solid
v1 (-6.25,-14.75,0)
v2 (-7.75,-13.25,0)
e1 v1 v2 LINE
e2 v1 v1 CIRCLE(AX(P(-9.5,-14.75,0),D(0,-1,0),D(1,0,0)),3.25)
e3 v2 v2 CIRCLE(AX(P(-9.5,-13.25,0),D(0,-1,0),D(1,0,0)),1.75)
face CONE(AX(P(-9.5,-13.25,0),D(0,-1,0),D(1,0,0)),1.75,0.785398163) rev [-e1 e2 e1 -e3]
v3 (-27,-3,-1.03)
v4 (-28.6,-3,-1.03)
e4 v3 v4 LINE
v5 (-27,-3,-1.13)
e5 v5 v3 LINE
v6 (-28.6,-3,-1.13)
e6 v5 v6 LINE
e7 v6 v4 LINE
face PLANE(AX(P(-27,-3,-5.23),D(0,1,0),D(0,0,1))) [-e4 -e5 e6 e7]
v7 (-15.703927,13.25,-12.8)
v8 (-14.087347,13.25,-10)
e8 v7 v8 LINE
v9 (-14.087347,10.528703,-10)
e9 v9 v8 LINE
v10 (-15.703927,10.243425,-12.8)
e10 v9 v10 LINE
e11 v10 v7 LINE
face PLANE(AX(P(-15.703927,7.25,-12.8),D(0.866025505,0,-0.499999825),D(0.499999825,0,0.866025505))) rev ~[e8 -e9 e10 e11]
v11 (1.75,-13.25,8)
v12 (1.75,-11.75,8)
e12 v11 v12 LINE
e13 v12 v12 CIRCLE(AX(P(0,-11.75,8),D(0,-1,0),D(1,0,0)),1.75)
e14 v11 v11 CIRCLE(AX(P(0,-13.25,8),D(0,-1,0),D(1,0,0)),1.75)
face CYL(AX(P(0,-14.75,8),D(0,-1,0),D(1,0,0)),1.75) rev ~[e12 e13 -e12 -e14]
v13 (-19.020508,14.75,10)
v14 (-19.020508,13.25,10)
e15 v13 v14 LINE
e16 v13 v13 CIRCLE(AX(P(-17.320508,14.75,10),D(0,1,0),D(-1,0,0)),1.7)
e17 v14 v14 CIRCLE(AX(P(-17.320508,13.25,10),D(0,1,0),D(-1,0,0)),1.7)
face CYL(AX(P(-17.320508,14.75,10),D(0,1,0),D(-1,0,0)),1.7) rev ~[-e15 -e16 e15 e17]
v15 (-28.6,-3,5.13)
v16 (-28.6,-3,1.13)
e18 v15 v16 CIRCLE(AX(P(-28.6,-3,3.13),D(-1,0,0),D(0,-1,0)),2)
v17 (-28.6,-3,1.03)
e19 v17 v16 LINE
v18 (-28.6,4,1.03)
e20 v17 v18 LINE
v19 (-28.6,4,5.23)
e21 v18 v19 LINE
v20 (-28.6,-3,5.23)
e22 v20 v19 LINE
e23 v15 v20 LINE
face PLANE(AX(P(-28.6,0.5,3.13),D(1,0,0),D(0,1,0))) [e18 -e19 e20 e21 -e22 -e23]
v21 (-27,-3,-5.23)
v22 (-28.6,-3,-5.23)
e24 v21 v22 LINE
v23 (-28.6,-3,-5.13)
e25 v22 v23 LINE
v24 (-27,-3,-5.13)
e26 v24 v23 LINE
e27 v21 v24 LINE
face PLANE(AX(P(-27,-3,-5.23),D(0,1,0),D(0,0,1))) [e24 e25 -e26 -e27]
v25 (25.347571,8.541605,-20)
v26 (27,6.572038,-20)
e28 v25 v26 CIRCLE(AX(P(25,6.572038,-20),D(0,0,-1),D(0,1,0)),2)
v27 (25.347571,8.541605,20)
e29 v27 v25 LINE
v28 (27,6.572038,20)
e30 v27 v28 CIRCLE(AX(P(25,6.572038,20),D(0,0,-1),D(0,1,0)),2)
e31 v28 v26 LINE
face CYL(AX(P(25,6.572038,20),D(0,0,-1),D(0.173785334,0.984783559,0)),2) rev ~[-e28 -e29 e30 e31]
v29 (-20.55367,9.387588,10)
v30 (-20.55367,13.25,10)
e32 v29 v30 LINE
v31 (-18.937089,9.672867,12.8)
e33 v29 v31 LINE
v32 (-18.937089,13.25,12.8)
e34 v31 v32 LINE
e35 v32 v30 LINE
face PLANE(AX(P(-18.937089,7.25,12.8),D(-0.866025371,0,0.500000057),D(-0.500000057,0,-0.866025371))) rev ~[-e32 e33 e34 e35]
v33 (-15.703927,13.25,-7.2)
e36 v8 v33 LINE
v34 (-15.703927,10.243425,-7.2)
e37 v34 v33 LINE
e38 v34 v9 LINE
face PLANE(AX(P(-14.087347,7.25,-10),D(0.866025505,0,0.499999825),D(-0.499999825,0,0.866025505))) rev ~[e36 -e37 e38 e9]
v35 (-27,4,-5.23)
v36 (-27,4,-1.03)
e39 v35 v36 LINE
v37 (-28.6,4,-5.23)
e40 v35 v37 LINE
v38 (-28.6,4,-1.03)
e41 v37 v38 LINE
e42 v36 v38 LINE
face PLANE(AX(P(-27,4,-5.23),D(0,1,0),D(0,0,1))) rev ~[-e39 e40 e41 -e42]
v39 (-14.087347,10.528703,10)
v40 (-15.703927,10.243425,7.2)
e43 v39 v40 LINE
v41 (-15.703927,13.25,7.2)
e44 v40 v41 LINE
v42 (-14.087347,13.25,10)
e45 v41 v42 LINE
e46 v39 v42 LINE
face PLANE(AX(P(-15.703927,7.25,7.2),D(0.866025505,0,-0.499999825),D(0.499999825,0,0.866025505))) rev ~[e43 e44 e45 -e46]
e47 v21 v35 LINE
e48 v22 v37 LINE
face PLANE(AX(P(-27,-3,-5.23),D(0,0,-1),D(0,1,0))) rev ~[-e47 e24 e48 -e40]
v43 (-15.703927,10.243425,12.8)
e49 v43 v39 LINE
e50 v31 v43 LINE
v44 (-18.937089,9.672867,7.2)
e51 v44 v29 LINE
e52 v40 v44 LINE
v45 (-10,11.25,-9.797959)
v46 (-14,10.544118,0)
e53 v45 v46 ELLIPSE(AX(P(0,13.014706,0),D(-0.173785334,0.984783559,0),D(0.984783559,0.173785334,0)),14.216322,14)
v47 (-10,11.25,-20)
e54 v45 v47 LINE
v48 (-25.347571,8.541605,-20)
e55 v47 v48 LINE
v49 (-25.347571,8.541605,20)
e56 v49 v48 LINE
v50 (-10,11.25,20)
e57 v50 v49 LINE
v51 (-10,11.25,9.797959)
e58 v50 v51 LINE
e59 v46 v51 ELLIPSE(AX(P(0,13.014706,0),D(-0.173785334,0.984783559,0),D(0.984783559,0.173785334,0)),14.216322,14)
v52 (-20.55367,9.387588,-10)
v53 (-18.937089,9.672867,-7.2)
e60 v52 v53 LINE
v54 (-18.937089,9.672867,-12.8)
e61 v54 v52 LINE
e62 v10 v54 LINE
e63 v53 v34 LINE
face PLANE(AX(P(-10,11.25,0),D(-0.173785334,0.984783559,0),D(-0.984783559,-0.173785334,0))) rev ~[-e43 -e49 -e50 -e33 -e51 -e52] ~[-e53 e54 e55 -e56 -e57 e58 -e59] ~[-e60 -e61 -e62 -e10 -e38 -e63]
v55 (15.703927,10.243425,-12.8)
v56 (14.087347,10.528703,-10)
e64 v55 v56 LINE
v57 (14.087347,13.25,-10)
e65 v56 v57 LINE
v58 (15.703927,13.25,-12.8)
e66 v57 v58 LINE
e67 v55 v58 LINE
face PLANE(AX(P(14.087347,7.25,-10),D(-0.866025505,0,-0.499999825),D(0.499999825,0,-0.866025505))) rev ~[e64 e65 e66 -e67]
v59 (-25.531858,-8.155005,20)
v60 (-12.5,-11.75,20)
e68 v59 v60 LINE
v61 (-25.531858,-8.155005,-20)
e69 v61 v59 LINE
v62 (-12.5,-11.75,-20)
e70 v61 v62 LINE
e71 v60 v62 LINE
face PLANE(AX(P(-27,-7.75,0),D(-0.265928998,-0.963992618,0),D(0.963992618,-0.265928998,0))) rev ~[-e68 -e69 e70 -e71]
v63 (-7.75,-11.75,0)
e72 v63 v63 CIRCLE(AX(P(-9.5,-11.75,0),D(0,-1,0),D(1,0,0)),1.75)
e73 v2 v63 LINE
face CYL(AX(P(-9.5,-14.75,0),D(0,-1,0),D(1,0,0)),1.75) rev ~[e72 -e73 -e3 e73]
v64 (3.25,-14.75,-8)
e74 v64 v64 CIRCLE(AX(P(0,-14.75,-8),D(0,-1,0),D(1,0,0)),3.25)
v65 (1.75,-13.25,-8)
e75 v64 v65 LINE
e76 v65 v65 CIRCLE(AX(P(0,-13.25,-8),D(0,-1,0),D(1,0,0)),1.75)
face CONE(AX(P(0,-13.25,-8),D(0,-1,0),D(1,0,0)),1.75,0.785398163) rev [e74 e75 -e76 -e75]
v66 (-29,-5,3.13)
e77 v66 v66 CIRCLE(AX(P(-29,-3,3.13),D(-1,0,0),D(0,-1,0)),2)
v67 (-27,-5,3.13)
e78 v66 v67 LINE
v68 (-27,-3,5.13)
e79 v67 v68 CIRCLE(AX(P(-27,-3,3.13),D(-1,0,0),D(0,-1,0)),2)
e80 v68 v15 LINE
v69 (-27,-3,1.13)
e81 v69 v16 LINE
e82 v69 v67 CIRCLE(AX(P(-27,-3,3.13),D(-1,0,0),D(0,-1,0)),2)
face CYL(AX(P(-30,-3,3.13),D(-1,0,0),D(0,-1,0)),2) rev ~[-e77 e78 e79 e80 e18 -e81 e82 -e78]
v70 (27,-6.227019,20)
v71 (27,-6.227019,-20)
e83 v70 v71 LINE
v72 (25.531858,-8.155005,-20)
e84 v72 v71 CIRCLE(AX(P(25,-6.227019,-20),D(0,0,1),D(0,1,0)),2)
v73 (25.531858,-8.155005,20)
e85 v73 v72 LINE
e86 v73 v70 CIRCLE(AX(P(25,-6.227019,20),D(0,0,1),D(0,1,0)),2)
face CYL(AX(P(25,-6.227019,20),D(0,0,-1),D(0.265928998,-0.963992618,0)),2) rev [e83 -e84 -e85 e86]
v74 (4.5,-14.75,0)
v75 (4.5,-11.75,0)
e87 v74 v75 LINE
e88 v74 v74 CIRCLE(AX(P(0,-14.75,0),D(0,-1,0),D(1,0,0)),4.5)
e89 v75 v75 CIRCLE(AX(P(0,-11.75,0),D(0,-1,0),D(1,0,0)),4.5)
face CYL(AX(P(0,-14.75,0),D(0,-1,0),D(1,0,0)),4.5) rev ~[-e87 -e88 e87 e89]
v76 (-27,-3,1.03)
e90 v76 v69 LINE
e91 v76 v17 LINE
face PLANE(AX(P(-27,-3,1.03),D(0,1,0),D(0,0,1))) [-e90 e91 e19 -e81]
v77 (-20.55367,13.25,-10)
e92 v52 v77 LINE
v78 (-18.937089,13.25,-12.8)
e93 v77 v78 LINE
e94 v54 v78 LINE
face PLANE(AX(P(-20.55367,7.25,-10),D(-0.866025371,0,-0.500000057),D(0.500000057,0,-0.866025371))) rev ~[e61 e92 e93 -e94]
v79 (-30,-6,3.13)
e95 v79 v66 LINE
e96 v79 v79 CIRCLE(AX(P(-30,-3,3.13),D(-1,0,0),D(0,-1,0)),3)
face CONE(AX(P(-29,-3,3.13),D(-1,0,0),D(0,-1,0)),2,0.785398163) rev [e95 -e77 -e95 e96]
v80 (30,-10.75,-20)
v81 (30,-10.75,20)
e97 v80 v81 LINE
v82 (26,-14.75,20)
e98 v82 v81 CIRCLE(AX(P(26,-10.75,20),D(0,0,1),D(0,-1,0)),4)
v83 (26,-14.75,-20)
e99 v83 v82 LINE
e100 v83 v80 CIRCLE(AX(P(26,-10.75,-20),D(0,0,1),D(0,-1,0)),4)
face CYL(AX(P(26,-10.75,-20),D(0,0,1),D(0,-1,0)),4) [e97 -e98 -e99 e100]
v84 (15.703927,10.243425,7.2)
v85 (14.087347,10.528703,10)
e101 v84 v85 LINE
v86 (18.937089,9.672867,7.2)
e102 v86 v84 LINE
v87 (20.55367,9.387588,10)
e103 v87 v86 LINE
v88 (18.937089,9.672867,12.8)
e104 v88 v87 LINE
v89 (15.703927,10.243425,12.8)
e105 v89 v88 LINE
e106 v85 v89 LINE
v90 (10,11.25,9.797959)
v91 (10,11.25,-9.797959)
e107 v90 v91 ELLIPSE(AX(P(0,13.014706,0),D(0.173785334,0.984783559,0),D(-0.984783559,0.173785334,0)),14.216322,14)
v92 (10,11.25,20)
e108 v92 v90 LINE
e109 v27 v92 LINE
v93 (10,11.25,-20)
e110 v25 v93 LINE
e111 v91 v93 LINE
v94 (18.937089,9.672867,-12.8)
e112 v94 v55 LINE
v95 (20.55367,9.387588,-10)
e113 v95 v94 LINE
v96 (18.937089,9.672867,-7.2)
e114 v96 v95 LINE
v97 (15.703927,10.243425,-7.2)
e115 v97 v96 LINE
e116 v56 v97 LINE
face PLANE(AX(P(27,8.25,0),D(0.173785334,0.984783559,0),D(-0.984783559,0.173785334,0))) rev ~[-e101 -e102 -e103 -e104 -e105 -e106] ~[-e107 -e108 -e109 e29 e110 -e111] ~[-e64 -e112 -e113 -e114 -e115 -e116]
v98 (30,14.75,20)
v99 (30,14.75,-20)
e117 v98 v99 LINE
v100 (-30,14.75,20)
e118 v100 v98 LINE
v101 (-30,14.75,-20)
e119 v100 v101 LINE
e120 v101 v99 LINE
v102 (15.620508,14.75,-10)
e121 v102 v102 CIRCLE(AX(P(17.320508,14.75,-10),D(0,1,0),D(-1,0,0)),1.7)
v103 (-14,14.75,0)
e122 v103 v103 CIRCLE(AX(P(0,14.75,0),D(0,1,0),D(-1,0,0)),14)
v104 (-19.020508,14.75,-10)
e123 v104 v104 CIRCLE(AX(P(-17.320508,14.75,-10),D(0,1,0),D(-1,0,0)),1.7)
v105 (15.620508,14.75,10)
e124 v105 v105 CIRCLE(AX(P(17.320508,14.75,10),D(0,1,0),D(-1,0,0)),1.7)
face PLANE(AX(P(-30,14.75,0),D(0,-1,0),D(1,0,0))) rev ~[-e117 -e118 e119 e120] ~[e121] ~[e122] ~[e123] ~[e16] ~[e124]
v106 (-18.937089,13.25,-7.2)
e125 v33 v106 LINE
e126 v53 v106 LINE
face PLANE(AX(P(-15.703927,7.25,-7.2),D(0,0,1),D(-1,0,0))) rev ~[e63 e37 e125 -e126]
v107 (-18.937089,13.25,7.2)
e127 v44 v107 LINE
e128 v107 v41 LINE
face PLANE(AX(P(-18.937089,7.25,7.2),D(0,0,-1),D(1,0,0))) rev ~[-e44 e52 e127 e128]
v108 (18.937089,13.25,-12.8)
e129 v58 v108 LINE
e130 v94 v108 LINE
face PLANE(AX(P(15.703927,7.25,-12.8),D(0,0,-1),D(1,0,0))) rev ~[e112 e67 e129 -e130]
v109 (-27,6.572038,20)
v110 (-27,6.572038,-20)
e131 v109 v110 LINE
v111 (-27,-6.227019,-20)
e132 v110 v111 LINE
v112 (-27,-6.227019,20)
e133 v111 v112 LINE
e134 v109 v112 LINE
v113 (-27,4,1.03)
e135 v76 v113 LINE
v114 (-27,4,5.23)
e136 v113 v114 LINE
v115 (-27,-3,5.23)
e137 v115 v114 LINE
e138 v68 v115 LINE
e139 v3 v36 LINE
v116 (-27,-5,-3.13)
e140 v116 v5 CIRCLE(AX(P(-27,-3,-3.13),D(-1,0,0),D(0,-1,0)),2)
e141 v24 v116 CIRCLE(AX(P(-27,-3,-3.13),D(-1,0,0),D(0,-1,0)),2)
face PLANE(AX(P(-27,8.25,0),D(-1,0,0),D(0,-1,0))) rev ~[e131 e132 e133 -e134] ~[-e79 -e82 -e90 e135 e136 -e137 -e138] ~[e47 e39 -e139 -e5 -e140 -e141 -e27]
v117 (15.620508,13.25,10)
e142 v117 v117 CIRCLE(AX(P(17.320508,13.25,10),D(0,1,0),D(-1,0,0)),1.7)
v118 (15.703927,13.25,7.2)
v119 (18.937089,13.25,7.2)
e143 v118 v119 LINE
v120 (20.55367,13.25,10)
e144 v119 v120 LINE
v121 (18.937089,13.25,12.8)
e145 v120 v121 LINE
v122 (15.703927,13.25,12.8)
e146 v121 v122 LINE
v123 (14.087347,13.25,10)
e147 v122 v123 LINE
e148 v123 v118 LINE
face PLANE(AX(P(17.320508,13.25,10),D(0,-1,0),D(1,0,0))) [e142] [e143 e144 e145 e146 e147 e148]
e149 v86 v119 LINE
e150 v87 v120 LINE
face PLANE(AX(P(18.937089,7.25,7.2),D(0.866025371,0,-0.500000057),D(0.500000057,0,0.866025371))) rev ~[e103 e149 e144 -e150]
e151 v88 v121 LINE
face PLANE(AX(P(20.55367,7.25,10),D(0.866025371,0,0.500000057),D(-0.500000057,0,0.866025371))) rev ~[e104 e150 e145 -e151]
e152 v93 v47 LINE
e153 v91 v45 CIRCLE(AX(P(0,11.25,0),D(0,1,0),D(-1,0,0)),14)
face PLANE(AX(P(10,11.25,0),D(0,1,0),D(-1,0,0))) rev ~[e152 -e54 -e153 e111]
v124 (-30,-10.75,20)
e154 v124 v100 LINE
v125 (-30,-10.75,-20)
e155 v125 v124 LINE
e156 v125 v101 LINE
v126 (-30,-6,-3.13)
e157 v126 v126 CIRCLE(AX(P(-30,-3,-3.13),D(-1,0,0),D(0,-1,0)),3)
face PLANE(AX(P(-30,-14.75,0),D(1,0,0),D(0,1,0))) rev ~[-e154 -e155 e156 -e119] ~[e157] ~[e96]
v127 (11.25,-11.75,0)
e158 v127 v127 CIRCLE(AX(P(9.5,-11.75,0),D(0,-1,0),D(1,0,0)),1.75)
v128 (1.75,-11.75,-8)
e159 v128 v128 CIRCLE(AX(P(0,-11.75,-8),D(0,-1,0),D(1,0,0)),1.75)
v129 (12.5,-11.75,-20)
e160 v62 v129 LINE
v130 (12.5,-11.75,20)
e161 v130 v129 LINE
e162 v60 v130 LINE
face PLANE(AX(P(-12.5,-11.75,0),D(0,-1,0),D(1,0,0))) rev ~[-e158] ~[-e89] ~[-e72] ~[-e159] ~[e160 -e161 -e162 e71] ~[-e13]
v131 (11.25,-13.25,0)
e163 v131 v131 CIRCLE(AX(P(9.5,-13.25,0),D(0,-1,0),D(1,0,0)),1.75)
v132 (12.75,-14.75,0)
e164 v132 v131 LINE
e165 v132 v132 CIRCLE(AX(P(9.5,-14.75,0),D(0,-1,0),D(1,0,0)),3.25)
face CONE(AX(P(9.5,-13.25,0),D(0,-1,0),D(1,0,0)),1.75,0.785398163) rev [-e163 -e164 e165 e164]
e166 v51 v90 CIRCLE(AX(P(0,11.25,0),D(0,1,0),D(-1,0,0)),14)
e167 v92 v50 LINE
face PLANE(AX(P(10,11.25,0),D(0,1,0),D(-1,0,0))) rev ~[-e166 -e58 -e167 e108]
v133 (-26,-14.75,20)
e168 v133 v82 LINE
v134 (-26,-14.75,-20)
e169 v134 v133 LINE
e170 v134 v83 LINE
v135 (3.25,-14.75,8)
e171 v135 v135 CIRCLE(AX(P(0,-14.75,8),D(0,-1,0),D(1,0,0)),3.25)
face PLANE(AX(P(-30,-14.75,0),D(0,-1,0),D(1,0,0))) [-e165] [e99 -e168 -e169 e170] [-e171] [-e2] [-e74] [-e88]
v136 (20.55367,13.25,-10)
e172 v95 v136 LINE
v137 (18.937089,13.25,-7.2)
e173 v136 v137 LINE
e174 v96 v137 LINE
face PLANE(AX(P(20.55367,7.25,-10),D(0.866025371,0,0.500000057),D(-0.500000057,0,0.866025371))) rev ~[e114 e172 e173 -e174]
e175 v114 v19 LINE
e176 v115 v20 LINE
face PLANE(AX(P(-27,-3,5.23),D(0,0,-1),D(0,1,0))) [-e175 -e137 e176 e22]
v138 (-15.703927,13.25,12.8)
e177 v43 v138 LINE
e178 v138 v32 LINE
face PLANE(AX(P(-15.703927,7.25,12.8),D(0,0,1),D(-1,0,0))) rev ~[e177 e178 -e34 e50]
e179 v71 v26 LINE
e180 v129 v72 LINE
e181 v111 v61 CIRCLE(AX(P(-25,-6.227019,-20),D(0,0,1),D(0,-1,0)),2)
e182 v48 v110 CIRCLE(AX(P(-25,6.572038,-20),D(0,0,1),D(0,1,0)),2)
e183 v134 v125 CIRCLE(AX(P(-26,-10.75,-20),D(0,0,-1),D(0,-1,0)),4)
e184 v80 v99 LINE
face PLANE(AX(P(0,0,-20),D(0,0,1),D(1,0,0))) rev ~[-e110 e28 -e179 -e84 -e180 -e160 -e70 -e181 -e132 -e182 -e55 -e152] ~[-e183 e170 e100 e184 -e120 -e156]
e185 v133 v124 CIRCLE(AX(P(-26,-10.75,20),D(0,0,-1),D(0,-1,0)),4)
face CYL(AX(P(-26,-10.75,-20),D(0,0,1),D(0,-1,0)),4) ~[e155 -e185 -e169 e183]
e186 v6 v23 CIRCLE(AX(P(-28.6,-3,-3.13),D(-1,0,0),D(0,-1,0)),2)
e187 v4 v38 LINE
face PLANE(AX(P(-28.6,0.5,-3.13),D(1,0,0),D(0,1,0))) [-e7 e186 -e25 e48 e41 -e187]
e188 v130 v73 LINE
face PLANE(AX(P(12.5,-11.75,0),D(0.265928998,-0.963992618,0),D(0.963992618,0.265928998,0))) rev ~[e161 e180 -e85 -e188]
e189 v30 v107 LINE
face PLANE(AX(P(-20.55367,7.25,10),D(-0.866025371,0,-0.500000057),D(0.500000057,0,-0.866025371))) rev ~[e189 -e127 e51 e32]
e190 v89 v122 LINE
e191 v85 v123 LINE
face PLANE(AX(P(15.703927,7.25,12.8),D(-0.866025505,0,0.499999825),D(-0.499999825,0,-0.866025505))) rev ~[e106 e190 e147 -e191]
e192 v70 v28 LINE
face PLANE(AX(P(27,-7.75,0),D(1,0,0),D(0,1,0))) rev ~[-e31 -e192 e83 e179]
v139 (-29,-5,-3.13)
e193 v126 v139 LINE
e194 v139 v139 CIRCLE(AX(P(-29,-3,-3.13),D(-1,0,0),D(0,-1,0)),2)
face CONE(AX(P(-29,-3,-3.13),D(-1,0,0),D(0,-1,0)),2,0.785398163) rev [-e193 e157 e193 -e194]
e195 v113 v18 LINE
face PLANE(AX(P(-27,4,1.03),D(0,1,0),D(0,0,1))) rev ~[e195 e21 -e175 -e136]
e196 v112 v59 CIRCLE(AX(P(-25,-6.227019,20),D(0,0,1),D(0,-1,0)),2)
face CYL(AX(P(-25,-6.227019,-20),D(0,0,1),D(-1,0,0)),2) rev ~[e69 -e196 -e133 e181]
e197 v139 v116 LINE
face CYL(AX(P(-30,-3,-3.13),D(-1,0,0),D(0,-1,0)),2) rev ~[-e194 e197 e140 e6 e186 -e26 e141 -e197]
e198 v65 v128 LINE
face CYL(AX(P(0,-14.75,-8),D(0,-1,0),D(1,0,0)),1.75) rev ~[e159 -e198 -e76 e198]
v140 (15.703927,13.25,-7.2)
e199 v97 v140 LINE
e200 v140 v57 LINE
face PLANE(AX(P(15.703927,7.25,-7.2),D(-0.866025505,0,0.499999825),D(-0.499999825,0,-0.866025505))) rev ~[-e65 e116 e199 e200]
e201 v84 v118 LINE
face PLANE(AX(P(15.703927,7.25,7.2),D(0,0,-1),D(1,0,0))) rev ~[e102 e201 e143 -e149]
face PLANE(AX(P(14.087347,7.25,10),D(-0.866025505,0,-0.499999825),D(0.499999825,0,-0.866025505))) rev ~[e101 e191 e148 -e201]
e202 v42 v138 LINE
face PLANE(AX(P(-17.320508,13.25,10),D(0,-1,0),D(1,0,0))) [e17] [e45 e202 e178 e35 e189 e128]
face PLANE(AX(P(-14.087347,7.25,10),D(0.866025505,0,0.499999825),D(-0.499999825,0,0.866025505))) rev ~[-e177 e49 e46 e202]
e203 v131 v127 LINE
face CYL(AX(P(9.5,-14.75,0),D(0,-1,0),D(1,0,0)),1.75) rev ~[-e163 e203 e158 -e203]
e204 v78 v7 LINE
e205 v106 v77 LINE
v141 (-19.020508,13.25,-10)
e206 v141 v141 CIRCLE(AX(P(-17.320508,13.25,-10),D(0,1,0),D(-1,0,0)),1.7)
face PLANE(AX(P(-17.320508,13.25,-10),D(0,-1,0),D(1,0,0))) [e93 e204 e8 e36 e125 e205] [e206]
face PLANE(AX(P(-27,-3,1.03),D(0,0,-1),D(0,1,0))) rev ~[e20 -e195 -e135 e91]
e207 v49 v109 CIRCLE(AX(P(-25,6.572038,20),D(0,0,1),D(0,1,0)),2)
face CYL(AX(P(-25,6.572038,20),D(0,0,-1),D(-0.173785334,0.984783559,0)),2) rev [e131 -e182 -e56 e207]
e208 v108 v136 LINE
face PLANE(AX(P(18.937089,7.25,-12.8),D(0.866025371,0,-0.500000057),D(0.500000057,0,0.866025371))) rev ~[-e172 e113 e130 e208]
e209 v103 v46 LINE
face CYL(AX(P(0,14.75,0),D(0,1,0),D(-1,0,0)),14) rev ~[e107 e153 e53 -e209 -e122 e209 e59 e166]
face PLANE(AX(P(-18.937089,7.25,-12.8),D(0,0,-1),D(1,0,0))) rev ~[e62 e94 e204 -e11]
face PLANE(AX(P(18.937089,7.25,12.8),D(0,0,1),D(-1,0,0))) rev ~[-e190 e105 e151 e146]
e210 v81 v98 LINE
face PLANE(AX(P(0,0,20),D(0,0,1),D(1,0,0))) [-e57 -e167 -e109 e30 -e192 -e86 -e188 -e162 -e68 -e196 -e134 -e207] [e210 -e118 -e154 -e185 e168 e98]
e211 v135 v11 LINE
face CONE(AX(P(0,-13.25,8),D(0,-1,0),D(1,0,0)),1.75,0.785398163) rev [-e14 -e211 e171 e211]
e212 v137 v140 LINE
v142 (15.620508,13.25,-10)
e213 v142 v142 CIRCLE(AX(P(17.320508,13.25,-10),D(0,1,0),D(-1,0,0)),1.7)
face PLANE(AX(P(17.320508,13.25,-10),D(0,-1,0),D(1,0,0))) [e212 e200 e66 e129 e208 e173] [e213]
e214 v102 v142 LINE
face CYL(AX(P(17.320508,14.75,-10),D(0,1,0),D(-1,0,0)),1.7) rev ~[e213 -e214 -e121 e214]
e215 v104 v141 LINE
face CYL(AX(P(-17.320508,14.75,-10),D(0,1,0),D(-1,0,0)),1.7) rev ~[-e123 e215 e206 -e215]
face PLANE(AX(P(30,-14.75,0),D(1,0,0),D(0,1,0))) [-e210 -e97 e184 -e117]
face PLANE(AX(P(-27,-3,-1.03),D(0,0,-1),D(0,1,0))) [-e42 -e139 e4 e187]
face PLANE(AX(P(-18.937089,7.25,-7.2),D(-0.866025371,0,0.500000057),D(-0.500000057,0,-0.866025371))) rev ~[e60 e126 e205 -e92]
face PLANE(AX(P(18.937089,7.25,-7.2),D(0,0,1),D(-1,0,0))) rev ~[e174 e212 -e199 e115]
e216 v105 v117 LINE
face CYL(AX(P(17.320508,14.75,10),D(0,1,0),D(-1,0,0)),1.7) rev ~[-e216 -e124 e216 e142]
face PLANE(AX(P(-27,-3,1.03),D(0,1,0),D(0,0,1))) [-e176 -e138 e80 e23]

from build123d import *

# Parameters (mm, degrees)
SKETCH_W        = 60
SKETCH_H        = 29.5
PAD_DEPTH       = 20
SKETCH020_R     = 1.7
SKETCH020_R_2   = 14
POCKET_DEPTH    = 20
SKETCH001_R     = 1.75
SKETCH001_R_2   = 4.5
POCKET001_DEPTH = 5
SKETCH024_R     = 2.220567
PAD001_DEPTH    = 4
POCKET003_DEPTH = 6
SKETCH022_R     = 2
POCKET004_DEPTH = 3
SKETCH023_W     = 7
SKETCH023_H     = 4.2
POCKET005_DEPTH = 1.6
CHAMFER_SIZE    = 1
CHAMFER001_SIZE = 1
CHAMFER002_SIZE = 1.5
CHAMFER003_SIZE = 1.5
CHAMFER004_SIZE = 1.5
CHAMFER005_SIZE = 1.5
FILLET_R        = 4
FILLET001_R     = 4
FILLET002_R     = 2
FILLET003_R     = 2
FILLET004_R     = 2
FILLET005_R     = 2


with BuildPart() as part:
    # Sketch → Pad (new body, symmetric)
    with BuildSketch(Plane.XY):
        Rectangle(SKETCH_W, SKETCH_H)
        Polygon((-27, -7.75), (-12.5, -11.75), (12.5, -11.75), (27, -7.75), (27, 8.25), (10, 11.25), (-10, 11.25), (-27, 8.25), align=None, mode=Mode.SUBTRACT)
    extrude(amount=PAD_DEPTH, both=True)

    # Sketch020 → Pocket (cut)
    with BuildSketch(Plane(origin=(0, 14.75, 0), x_dir=(-1, 0, 0), z_dir=(0, 1, 0))):
        with Locations((-17.320508, 10)):
            Circle(SKETCH020_R)
        with Locations((-17.320508, -10)):
            Circle(SKETCH020_R)
        with Locations((17.320508, 10)):
            Circle(SKETCH020_R)
        with Locations((17.320508, -10)):
            Circle(SKETCH020_R)
        Circle(SKETCH020_R_2)
    extrude(amount=-POCKET_DEPTH, mode=Mode.SUBTRACT)

    # Sketch001 → Pocket001 (cut)
    with BuildSketch(Plane.XZ.offset(14.75)):
        with Locations((0, 8)):
            Circle(SKETCH001_R)
        with Locations((0, -8)):
            Circle(SKETCH001_R)
        with Locations((-9.5, 0)):
            Circle(SKETCH001_R)
        with Locations((9.5, 0)):
            Circle(SKETCH001_R)
        Circle(SKETCH001_R_2)
    extrude(amount=-POCKET001_DEPTH, mode=Mode.SUBTRACT)

    # Sketch024 → Pad001 (new body)
    with BuildSketch(Plane.XZ.offset(-11.25)):
        with Locations((-17.320508, 10)):
            Circle(SKETCH024_R)
    extrude(amount=PAD001_DEPTH)

    # Sketch021 → Pocket003 (cut)
    with BuildSketch(Plane.XZ.offset(-7.25)):
        Polygon((-18.937089, 12.8), (-20.55367, 10), (-18.937089, 7.2), (-15.703927, 7.2), (-14.087347, 10), (-15.703927, 12.8), align=None)
        Polygon((15.703927, 12.8), (14.087347, 10), (15.703927, 7.2), (18.937089, 7.2), (20.55367, 10), (18.937089, 12.8), align=None)
        Polygon((-18.937089, -7.2), (-20.55367, -10), (-18.937089, -12.8), (-15.703927, -12.8), (-14.087347, -10), (-15.703927, -7.2), align=None)
        Polygon((15.703927, -7.2), (14.087347, -10), (15.703927, -12.8), (18.937089, -12.8), (20.55367, -10), (18.937089, -7.2), align=None)
    extrude(amount=-POCKET003_DEPTH, mode=Mode.SUBTRACT)

    # Sketch022 → Pocket004 (cut)
    with BuildSketch(Plane(origin=(-30, 0, 0), x_dir=(0, -1, 0), z_dir=(-1, 0, 0))):
        with Locations((3, 3.13)):
            Circle(SKETCH022_R)
        with Locations((3, -3.13)):
            Circle(SKETCH022_R)
    extrude(amount=-POCKET004_DEPTH, mode=Mode.SUBTRACT)

    # Sketch023 → Pocket005 (cut)
    with BuildSketch(Plane.YZ.offset(-27)):
        with Locations((0.5, 3.13)):
            Rectangle(SKETCH023_W, SKETCH023_H)
        with Locations((0.5, -3.13)):
            Rectangle(SKETCH023_W, SKETCH023_H)
    extrude(amount=-POCKET005_DEPTH, mode=Mode.SUBTRACT)

    # Chamfer
    chamfer_edges = [part.edges().sort_by_distance(p)[0] for p in [
        (-30, -1, 3.13),
    ]]
    chamfer(chamfer_edges, length=CHAMFER_SIZE)

    # Chamfer001
    chamfer001_edges = [part.edges().sort_by_distance(p)[0] for p in [
        (-30, -1, -3.13),
    ]]
    chamfer(chamfer001_edges, length=CHAMFER001_SIZE)

    # Chamfer002
    chamfer002_edges = [part.edges().sort_by_distance(p)[0] for p in [
        (-1.75, -14.75, 8),
    ]]
    chamfer(chamfer002_edges, length=CHAMFER002_SIZE)

    # Chamfer003
    chamfer003_edges = [part.edges().sort_by_distance(p)[0] for p in [
        (-11.25, -14.75, 0),
    ]]
    chamfer(chamfer003_edges, length=CHAMFER003_SIZE)

    # Chamfer004
    chamfer004_edges = [part.edges().sort_by_distance(p)[0] for p in [
        (7.75, -14.75, 0),
    ]]
    chamfer(chamfer004_edges, length=CHAMFER004_SIZE)

    # Chamfer005
    chamfer005_edges = [part.edges().sort_by_distance(p)[0] for p in [
        (-1.75, -14.75, -8),
    ]]
    chamfer(chamfer005_edges, length=CHAMFER005_SIZE)

    # Fillet
    fillet_edges = [part.edges().sort_by_distance(p)[0] for p in [
        (-30, -14.75, 0),
    ]]
    fillet(fillet_edges, radius=FILLET_R)

    # Fillet001
    fillet001_edges = [part.edges().sort_by_distance(p)[0] for p in [
        (30, -14.75, 0),
    ]]
    fillet(fillet001_edges, radius=FILLET001_R)

    # Fillet002
    fillet002_edges = [part.edges().sort_by_distance(p)[0] for p in [
        (-27, 8.25, 0),
    ]]
    fillet(fillet002_edges, radius=FILLET002_R)

    # Fillet003
    fillet003_edges = [part.edges().sort_by_distance(p)[0] for p in [
        (27, 8.25, 0),
    ]]
    fillet(fillet003_edges, radius=FILLET003_R)

    # Fillet004
    fillet004_edges = [part.edges().sort_by_distance(p)[0] for p in [
        (-27, -7.75, 0),
    ]]
    fillet(fillet004_edges, radius=FILLET004_R)

    # Fillet005
    fillet005_edges = [part.edges().sort_by_distance(p)[0] for p in [
        (27, -7.75, 0),
    ]]
    fillet(fillet005_edges, radius=FILLET005_R)


solid = part.part
